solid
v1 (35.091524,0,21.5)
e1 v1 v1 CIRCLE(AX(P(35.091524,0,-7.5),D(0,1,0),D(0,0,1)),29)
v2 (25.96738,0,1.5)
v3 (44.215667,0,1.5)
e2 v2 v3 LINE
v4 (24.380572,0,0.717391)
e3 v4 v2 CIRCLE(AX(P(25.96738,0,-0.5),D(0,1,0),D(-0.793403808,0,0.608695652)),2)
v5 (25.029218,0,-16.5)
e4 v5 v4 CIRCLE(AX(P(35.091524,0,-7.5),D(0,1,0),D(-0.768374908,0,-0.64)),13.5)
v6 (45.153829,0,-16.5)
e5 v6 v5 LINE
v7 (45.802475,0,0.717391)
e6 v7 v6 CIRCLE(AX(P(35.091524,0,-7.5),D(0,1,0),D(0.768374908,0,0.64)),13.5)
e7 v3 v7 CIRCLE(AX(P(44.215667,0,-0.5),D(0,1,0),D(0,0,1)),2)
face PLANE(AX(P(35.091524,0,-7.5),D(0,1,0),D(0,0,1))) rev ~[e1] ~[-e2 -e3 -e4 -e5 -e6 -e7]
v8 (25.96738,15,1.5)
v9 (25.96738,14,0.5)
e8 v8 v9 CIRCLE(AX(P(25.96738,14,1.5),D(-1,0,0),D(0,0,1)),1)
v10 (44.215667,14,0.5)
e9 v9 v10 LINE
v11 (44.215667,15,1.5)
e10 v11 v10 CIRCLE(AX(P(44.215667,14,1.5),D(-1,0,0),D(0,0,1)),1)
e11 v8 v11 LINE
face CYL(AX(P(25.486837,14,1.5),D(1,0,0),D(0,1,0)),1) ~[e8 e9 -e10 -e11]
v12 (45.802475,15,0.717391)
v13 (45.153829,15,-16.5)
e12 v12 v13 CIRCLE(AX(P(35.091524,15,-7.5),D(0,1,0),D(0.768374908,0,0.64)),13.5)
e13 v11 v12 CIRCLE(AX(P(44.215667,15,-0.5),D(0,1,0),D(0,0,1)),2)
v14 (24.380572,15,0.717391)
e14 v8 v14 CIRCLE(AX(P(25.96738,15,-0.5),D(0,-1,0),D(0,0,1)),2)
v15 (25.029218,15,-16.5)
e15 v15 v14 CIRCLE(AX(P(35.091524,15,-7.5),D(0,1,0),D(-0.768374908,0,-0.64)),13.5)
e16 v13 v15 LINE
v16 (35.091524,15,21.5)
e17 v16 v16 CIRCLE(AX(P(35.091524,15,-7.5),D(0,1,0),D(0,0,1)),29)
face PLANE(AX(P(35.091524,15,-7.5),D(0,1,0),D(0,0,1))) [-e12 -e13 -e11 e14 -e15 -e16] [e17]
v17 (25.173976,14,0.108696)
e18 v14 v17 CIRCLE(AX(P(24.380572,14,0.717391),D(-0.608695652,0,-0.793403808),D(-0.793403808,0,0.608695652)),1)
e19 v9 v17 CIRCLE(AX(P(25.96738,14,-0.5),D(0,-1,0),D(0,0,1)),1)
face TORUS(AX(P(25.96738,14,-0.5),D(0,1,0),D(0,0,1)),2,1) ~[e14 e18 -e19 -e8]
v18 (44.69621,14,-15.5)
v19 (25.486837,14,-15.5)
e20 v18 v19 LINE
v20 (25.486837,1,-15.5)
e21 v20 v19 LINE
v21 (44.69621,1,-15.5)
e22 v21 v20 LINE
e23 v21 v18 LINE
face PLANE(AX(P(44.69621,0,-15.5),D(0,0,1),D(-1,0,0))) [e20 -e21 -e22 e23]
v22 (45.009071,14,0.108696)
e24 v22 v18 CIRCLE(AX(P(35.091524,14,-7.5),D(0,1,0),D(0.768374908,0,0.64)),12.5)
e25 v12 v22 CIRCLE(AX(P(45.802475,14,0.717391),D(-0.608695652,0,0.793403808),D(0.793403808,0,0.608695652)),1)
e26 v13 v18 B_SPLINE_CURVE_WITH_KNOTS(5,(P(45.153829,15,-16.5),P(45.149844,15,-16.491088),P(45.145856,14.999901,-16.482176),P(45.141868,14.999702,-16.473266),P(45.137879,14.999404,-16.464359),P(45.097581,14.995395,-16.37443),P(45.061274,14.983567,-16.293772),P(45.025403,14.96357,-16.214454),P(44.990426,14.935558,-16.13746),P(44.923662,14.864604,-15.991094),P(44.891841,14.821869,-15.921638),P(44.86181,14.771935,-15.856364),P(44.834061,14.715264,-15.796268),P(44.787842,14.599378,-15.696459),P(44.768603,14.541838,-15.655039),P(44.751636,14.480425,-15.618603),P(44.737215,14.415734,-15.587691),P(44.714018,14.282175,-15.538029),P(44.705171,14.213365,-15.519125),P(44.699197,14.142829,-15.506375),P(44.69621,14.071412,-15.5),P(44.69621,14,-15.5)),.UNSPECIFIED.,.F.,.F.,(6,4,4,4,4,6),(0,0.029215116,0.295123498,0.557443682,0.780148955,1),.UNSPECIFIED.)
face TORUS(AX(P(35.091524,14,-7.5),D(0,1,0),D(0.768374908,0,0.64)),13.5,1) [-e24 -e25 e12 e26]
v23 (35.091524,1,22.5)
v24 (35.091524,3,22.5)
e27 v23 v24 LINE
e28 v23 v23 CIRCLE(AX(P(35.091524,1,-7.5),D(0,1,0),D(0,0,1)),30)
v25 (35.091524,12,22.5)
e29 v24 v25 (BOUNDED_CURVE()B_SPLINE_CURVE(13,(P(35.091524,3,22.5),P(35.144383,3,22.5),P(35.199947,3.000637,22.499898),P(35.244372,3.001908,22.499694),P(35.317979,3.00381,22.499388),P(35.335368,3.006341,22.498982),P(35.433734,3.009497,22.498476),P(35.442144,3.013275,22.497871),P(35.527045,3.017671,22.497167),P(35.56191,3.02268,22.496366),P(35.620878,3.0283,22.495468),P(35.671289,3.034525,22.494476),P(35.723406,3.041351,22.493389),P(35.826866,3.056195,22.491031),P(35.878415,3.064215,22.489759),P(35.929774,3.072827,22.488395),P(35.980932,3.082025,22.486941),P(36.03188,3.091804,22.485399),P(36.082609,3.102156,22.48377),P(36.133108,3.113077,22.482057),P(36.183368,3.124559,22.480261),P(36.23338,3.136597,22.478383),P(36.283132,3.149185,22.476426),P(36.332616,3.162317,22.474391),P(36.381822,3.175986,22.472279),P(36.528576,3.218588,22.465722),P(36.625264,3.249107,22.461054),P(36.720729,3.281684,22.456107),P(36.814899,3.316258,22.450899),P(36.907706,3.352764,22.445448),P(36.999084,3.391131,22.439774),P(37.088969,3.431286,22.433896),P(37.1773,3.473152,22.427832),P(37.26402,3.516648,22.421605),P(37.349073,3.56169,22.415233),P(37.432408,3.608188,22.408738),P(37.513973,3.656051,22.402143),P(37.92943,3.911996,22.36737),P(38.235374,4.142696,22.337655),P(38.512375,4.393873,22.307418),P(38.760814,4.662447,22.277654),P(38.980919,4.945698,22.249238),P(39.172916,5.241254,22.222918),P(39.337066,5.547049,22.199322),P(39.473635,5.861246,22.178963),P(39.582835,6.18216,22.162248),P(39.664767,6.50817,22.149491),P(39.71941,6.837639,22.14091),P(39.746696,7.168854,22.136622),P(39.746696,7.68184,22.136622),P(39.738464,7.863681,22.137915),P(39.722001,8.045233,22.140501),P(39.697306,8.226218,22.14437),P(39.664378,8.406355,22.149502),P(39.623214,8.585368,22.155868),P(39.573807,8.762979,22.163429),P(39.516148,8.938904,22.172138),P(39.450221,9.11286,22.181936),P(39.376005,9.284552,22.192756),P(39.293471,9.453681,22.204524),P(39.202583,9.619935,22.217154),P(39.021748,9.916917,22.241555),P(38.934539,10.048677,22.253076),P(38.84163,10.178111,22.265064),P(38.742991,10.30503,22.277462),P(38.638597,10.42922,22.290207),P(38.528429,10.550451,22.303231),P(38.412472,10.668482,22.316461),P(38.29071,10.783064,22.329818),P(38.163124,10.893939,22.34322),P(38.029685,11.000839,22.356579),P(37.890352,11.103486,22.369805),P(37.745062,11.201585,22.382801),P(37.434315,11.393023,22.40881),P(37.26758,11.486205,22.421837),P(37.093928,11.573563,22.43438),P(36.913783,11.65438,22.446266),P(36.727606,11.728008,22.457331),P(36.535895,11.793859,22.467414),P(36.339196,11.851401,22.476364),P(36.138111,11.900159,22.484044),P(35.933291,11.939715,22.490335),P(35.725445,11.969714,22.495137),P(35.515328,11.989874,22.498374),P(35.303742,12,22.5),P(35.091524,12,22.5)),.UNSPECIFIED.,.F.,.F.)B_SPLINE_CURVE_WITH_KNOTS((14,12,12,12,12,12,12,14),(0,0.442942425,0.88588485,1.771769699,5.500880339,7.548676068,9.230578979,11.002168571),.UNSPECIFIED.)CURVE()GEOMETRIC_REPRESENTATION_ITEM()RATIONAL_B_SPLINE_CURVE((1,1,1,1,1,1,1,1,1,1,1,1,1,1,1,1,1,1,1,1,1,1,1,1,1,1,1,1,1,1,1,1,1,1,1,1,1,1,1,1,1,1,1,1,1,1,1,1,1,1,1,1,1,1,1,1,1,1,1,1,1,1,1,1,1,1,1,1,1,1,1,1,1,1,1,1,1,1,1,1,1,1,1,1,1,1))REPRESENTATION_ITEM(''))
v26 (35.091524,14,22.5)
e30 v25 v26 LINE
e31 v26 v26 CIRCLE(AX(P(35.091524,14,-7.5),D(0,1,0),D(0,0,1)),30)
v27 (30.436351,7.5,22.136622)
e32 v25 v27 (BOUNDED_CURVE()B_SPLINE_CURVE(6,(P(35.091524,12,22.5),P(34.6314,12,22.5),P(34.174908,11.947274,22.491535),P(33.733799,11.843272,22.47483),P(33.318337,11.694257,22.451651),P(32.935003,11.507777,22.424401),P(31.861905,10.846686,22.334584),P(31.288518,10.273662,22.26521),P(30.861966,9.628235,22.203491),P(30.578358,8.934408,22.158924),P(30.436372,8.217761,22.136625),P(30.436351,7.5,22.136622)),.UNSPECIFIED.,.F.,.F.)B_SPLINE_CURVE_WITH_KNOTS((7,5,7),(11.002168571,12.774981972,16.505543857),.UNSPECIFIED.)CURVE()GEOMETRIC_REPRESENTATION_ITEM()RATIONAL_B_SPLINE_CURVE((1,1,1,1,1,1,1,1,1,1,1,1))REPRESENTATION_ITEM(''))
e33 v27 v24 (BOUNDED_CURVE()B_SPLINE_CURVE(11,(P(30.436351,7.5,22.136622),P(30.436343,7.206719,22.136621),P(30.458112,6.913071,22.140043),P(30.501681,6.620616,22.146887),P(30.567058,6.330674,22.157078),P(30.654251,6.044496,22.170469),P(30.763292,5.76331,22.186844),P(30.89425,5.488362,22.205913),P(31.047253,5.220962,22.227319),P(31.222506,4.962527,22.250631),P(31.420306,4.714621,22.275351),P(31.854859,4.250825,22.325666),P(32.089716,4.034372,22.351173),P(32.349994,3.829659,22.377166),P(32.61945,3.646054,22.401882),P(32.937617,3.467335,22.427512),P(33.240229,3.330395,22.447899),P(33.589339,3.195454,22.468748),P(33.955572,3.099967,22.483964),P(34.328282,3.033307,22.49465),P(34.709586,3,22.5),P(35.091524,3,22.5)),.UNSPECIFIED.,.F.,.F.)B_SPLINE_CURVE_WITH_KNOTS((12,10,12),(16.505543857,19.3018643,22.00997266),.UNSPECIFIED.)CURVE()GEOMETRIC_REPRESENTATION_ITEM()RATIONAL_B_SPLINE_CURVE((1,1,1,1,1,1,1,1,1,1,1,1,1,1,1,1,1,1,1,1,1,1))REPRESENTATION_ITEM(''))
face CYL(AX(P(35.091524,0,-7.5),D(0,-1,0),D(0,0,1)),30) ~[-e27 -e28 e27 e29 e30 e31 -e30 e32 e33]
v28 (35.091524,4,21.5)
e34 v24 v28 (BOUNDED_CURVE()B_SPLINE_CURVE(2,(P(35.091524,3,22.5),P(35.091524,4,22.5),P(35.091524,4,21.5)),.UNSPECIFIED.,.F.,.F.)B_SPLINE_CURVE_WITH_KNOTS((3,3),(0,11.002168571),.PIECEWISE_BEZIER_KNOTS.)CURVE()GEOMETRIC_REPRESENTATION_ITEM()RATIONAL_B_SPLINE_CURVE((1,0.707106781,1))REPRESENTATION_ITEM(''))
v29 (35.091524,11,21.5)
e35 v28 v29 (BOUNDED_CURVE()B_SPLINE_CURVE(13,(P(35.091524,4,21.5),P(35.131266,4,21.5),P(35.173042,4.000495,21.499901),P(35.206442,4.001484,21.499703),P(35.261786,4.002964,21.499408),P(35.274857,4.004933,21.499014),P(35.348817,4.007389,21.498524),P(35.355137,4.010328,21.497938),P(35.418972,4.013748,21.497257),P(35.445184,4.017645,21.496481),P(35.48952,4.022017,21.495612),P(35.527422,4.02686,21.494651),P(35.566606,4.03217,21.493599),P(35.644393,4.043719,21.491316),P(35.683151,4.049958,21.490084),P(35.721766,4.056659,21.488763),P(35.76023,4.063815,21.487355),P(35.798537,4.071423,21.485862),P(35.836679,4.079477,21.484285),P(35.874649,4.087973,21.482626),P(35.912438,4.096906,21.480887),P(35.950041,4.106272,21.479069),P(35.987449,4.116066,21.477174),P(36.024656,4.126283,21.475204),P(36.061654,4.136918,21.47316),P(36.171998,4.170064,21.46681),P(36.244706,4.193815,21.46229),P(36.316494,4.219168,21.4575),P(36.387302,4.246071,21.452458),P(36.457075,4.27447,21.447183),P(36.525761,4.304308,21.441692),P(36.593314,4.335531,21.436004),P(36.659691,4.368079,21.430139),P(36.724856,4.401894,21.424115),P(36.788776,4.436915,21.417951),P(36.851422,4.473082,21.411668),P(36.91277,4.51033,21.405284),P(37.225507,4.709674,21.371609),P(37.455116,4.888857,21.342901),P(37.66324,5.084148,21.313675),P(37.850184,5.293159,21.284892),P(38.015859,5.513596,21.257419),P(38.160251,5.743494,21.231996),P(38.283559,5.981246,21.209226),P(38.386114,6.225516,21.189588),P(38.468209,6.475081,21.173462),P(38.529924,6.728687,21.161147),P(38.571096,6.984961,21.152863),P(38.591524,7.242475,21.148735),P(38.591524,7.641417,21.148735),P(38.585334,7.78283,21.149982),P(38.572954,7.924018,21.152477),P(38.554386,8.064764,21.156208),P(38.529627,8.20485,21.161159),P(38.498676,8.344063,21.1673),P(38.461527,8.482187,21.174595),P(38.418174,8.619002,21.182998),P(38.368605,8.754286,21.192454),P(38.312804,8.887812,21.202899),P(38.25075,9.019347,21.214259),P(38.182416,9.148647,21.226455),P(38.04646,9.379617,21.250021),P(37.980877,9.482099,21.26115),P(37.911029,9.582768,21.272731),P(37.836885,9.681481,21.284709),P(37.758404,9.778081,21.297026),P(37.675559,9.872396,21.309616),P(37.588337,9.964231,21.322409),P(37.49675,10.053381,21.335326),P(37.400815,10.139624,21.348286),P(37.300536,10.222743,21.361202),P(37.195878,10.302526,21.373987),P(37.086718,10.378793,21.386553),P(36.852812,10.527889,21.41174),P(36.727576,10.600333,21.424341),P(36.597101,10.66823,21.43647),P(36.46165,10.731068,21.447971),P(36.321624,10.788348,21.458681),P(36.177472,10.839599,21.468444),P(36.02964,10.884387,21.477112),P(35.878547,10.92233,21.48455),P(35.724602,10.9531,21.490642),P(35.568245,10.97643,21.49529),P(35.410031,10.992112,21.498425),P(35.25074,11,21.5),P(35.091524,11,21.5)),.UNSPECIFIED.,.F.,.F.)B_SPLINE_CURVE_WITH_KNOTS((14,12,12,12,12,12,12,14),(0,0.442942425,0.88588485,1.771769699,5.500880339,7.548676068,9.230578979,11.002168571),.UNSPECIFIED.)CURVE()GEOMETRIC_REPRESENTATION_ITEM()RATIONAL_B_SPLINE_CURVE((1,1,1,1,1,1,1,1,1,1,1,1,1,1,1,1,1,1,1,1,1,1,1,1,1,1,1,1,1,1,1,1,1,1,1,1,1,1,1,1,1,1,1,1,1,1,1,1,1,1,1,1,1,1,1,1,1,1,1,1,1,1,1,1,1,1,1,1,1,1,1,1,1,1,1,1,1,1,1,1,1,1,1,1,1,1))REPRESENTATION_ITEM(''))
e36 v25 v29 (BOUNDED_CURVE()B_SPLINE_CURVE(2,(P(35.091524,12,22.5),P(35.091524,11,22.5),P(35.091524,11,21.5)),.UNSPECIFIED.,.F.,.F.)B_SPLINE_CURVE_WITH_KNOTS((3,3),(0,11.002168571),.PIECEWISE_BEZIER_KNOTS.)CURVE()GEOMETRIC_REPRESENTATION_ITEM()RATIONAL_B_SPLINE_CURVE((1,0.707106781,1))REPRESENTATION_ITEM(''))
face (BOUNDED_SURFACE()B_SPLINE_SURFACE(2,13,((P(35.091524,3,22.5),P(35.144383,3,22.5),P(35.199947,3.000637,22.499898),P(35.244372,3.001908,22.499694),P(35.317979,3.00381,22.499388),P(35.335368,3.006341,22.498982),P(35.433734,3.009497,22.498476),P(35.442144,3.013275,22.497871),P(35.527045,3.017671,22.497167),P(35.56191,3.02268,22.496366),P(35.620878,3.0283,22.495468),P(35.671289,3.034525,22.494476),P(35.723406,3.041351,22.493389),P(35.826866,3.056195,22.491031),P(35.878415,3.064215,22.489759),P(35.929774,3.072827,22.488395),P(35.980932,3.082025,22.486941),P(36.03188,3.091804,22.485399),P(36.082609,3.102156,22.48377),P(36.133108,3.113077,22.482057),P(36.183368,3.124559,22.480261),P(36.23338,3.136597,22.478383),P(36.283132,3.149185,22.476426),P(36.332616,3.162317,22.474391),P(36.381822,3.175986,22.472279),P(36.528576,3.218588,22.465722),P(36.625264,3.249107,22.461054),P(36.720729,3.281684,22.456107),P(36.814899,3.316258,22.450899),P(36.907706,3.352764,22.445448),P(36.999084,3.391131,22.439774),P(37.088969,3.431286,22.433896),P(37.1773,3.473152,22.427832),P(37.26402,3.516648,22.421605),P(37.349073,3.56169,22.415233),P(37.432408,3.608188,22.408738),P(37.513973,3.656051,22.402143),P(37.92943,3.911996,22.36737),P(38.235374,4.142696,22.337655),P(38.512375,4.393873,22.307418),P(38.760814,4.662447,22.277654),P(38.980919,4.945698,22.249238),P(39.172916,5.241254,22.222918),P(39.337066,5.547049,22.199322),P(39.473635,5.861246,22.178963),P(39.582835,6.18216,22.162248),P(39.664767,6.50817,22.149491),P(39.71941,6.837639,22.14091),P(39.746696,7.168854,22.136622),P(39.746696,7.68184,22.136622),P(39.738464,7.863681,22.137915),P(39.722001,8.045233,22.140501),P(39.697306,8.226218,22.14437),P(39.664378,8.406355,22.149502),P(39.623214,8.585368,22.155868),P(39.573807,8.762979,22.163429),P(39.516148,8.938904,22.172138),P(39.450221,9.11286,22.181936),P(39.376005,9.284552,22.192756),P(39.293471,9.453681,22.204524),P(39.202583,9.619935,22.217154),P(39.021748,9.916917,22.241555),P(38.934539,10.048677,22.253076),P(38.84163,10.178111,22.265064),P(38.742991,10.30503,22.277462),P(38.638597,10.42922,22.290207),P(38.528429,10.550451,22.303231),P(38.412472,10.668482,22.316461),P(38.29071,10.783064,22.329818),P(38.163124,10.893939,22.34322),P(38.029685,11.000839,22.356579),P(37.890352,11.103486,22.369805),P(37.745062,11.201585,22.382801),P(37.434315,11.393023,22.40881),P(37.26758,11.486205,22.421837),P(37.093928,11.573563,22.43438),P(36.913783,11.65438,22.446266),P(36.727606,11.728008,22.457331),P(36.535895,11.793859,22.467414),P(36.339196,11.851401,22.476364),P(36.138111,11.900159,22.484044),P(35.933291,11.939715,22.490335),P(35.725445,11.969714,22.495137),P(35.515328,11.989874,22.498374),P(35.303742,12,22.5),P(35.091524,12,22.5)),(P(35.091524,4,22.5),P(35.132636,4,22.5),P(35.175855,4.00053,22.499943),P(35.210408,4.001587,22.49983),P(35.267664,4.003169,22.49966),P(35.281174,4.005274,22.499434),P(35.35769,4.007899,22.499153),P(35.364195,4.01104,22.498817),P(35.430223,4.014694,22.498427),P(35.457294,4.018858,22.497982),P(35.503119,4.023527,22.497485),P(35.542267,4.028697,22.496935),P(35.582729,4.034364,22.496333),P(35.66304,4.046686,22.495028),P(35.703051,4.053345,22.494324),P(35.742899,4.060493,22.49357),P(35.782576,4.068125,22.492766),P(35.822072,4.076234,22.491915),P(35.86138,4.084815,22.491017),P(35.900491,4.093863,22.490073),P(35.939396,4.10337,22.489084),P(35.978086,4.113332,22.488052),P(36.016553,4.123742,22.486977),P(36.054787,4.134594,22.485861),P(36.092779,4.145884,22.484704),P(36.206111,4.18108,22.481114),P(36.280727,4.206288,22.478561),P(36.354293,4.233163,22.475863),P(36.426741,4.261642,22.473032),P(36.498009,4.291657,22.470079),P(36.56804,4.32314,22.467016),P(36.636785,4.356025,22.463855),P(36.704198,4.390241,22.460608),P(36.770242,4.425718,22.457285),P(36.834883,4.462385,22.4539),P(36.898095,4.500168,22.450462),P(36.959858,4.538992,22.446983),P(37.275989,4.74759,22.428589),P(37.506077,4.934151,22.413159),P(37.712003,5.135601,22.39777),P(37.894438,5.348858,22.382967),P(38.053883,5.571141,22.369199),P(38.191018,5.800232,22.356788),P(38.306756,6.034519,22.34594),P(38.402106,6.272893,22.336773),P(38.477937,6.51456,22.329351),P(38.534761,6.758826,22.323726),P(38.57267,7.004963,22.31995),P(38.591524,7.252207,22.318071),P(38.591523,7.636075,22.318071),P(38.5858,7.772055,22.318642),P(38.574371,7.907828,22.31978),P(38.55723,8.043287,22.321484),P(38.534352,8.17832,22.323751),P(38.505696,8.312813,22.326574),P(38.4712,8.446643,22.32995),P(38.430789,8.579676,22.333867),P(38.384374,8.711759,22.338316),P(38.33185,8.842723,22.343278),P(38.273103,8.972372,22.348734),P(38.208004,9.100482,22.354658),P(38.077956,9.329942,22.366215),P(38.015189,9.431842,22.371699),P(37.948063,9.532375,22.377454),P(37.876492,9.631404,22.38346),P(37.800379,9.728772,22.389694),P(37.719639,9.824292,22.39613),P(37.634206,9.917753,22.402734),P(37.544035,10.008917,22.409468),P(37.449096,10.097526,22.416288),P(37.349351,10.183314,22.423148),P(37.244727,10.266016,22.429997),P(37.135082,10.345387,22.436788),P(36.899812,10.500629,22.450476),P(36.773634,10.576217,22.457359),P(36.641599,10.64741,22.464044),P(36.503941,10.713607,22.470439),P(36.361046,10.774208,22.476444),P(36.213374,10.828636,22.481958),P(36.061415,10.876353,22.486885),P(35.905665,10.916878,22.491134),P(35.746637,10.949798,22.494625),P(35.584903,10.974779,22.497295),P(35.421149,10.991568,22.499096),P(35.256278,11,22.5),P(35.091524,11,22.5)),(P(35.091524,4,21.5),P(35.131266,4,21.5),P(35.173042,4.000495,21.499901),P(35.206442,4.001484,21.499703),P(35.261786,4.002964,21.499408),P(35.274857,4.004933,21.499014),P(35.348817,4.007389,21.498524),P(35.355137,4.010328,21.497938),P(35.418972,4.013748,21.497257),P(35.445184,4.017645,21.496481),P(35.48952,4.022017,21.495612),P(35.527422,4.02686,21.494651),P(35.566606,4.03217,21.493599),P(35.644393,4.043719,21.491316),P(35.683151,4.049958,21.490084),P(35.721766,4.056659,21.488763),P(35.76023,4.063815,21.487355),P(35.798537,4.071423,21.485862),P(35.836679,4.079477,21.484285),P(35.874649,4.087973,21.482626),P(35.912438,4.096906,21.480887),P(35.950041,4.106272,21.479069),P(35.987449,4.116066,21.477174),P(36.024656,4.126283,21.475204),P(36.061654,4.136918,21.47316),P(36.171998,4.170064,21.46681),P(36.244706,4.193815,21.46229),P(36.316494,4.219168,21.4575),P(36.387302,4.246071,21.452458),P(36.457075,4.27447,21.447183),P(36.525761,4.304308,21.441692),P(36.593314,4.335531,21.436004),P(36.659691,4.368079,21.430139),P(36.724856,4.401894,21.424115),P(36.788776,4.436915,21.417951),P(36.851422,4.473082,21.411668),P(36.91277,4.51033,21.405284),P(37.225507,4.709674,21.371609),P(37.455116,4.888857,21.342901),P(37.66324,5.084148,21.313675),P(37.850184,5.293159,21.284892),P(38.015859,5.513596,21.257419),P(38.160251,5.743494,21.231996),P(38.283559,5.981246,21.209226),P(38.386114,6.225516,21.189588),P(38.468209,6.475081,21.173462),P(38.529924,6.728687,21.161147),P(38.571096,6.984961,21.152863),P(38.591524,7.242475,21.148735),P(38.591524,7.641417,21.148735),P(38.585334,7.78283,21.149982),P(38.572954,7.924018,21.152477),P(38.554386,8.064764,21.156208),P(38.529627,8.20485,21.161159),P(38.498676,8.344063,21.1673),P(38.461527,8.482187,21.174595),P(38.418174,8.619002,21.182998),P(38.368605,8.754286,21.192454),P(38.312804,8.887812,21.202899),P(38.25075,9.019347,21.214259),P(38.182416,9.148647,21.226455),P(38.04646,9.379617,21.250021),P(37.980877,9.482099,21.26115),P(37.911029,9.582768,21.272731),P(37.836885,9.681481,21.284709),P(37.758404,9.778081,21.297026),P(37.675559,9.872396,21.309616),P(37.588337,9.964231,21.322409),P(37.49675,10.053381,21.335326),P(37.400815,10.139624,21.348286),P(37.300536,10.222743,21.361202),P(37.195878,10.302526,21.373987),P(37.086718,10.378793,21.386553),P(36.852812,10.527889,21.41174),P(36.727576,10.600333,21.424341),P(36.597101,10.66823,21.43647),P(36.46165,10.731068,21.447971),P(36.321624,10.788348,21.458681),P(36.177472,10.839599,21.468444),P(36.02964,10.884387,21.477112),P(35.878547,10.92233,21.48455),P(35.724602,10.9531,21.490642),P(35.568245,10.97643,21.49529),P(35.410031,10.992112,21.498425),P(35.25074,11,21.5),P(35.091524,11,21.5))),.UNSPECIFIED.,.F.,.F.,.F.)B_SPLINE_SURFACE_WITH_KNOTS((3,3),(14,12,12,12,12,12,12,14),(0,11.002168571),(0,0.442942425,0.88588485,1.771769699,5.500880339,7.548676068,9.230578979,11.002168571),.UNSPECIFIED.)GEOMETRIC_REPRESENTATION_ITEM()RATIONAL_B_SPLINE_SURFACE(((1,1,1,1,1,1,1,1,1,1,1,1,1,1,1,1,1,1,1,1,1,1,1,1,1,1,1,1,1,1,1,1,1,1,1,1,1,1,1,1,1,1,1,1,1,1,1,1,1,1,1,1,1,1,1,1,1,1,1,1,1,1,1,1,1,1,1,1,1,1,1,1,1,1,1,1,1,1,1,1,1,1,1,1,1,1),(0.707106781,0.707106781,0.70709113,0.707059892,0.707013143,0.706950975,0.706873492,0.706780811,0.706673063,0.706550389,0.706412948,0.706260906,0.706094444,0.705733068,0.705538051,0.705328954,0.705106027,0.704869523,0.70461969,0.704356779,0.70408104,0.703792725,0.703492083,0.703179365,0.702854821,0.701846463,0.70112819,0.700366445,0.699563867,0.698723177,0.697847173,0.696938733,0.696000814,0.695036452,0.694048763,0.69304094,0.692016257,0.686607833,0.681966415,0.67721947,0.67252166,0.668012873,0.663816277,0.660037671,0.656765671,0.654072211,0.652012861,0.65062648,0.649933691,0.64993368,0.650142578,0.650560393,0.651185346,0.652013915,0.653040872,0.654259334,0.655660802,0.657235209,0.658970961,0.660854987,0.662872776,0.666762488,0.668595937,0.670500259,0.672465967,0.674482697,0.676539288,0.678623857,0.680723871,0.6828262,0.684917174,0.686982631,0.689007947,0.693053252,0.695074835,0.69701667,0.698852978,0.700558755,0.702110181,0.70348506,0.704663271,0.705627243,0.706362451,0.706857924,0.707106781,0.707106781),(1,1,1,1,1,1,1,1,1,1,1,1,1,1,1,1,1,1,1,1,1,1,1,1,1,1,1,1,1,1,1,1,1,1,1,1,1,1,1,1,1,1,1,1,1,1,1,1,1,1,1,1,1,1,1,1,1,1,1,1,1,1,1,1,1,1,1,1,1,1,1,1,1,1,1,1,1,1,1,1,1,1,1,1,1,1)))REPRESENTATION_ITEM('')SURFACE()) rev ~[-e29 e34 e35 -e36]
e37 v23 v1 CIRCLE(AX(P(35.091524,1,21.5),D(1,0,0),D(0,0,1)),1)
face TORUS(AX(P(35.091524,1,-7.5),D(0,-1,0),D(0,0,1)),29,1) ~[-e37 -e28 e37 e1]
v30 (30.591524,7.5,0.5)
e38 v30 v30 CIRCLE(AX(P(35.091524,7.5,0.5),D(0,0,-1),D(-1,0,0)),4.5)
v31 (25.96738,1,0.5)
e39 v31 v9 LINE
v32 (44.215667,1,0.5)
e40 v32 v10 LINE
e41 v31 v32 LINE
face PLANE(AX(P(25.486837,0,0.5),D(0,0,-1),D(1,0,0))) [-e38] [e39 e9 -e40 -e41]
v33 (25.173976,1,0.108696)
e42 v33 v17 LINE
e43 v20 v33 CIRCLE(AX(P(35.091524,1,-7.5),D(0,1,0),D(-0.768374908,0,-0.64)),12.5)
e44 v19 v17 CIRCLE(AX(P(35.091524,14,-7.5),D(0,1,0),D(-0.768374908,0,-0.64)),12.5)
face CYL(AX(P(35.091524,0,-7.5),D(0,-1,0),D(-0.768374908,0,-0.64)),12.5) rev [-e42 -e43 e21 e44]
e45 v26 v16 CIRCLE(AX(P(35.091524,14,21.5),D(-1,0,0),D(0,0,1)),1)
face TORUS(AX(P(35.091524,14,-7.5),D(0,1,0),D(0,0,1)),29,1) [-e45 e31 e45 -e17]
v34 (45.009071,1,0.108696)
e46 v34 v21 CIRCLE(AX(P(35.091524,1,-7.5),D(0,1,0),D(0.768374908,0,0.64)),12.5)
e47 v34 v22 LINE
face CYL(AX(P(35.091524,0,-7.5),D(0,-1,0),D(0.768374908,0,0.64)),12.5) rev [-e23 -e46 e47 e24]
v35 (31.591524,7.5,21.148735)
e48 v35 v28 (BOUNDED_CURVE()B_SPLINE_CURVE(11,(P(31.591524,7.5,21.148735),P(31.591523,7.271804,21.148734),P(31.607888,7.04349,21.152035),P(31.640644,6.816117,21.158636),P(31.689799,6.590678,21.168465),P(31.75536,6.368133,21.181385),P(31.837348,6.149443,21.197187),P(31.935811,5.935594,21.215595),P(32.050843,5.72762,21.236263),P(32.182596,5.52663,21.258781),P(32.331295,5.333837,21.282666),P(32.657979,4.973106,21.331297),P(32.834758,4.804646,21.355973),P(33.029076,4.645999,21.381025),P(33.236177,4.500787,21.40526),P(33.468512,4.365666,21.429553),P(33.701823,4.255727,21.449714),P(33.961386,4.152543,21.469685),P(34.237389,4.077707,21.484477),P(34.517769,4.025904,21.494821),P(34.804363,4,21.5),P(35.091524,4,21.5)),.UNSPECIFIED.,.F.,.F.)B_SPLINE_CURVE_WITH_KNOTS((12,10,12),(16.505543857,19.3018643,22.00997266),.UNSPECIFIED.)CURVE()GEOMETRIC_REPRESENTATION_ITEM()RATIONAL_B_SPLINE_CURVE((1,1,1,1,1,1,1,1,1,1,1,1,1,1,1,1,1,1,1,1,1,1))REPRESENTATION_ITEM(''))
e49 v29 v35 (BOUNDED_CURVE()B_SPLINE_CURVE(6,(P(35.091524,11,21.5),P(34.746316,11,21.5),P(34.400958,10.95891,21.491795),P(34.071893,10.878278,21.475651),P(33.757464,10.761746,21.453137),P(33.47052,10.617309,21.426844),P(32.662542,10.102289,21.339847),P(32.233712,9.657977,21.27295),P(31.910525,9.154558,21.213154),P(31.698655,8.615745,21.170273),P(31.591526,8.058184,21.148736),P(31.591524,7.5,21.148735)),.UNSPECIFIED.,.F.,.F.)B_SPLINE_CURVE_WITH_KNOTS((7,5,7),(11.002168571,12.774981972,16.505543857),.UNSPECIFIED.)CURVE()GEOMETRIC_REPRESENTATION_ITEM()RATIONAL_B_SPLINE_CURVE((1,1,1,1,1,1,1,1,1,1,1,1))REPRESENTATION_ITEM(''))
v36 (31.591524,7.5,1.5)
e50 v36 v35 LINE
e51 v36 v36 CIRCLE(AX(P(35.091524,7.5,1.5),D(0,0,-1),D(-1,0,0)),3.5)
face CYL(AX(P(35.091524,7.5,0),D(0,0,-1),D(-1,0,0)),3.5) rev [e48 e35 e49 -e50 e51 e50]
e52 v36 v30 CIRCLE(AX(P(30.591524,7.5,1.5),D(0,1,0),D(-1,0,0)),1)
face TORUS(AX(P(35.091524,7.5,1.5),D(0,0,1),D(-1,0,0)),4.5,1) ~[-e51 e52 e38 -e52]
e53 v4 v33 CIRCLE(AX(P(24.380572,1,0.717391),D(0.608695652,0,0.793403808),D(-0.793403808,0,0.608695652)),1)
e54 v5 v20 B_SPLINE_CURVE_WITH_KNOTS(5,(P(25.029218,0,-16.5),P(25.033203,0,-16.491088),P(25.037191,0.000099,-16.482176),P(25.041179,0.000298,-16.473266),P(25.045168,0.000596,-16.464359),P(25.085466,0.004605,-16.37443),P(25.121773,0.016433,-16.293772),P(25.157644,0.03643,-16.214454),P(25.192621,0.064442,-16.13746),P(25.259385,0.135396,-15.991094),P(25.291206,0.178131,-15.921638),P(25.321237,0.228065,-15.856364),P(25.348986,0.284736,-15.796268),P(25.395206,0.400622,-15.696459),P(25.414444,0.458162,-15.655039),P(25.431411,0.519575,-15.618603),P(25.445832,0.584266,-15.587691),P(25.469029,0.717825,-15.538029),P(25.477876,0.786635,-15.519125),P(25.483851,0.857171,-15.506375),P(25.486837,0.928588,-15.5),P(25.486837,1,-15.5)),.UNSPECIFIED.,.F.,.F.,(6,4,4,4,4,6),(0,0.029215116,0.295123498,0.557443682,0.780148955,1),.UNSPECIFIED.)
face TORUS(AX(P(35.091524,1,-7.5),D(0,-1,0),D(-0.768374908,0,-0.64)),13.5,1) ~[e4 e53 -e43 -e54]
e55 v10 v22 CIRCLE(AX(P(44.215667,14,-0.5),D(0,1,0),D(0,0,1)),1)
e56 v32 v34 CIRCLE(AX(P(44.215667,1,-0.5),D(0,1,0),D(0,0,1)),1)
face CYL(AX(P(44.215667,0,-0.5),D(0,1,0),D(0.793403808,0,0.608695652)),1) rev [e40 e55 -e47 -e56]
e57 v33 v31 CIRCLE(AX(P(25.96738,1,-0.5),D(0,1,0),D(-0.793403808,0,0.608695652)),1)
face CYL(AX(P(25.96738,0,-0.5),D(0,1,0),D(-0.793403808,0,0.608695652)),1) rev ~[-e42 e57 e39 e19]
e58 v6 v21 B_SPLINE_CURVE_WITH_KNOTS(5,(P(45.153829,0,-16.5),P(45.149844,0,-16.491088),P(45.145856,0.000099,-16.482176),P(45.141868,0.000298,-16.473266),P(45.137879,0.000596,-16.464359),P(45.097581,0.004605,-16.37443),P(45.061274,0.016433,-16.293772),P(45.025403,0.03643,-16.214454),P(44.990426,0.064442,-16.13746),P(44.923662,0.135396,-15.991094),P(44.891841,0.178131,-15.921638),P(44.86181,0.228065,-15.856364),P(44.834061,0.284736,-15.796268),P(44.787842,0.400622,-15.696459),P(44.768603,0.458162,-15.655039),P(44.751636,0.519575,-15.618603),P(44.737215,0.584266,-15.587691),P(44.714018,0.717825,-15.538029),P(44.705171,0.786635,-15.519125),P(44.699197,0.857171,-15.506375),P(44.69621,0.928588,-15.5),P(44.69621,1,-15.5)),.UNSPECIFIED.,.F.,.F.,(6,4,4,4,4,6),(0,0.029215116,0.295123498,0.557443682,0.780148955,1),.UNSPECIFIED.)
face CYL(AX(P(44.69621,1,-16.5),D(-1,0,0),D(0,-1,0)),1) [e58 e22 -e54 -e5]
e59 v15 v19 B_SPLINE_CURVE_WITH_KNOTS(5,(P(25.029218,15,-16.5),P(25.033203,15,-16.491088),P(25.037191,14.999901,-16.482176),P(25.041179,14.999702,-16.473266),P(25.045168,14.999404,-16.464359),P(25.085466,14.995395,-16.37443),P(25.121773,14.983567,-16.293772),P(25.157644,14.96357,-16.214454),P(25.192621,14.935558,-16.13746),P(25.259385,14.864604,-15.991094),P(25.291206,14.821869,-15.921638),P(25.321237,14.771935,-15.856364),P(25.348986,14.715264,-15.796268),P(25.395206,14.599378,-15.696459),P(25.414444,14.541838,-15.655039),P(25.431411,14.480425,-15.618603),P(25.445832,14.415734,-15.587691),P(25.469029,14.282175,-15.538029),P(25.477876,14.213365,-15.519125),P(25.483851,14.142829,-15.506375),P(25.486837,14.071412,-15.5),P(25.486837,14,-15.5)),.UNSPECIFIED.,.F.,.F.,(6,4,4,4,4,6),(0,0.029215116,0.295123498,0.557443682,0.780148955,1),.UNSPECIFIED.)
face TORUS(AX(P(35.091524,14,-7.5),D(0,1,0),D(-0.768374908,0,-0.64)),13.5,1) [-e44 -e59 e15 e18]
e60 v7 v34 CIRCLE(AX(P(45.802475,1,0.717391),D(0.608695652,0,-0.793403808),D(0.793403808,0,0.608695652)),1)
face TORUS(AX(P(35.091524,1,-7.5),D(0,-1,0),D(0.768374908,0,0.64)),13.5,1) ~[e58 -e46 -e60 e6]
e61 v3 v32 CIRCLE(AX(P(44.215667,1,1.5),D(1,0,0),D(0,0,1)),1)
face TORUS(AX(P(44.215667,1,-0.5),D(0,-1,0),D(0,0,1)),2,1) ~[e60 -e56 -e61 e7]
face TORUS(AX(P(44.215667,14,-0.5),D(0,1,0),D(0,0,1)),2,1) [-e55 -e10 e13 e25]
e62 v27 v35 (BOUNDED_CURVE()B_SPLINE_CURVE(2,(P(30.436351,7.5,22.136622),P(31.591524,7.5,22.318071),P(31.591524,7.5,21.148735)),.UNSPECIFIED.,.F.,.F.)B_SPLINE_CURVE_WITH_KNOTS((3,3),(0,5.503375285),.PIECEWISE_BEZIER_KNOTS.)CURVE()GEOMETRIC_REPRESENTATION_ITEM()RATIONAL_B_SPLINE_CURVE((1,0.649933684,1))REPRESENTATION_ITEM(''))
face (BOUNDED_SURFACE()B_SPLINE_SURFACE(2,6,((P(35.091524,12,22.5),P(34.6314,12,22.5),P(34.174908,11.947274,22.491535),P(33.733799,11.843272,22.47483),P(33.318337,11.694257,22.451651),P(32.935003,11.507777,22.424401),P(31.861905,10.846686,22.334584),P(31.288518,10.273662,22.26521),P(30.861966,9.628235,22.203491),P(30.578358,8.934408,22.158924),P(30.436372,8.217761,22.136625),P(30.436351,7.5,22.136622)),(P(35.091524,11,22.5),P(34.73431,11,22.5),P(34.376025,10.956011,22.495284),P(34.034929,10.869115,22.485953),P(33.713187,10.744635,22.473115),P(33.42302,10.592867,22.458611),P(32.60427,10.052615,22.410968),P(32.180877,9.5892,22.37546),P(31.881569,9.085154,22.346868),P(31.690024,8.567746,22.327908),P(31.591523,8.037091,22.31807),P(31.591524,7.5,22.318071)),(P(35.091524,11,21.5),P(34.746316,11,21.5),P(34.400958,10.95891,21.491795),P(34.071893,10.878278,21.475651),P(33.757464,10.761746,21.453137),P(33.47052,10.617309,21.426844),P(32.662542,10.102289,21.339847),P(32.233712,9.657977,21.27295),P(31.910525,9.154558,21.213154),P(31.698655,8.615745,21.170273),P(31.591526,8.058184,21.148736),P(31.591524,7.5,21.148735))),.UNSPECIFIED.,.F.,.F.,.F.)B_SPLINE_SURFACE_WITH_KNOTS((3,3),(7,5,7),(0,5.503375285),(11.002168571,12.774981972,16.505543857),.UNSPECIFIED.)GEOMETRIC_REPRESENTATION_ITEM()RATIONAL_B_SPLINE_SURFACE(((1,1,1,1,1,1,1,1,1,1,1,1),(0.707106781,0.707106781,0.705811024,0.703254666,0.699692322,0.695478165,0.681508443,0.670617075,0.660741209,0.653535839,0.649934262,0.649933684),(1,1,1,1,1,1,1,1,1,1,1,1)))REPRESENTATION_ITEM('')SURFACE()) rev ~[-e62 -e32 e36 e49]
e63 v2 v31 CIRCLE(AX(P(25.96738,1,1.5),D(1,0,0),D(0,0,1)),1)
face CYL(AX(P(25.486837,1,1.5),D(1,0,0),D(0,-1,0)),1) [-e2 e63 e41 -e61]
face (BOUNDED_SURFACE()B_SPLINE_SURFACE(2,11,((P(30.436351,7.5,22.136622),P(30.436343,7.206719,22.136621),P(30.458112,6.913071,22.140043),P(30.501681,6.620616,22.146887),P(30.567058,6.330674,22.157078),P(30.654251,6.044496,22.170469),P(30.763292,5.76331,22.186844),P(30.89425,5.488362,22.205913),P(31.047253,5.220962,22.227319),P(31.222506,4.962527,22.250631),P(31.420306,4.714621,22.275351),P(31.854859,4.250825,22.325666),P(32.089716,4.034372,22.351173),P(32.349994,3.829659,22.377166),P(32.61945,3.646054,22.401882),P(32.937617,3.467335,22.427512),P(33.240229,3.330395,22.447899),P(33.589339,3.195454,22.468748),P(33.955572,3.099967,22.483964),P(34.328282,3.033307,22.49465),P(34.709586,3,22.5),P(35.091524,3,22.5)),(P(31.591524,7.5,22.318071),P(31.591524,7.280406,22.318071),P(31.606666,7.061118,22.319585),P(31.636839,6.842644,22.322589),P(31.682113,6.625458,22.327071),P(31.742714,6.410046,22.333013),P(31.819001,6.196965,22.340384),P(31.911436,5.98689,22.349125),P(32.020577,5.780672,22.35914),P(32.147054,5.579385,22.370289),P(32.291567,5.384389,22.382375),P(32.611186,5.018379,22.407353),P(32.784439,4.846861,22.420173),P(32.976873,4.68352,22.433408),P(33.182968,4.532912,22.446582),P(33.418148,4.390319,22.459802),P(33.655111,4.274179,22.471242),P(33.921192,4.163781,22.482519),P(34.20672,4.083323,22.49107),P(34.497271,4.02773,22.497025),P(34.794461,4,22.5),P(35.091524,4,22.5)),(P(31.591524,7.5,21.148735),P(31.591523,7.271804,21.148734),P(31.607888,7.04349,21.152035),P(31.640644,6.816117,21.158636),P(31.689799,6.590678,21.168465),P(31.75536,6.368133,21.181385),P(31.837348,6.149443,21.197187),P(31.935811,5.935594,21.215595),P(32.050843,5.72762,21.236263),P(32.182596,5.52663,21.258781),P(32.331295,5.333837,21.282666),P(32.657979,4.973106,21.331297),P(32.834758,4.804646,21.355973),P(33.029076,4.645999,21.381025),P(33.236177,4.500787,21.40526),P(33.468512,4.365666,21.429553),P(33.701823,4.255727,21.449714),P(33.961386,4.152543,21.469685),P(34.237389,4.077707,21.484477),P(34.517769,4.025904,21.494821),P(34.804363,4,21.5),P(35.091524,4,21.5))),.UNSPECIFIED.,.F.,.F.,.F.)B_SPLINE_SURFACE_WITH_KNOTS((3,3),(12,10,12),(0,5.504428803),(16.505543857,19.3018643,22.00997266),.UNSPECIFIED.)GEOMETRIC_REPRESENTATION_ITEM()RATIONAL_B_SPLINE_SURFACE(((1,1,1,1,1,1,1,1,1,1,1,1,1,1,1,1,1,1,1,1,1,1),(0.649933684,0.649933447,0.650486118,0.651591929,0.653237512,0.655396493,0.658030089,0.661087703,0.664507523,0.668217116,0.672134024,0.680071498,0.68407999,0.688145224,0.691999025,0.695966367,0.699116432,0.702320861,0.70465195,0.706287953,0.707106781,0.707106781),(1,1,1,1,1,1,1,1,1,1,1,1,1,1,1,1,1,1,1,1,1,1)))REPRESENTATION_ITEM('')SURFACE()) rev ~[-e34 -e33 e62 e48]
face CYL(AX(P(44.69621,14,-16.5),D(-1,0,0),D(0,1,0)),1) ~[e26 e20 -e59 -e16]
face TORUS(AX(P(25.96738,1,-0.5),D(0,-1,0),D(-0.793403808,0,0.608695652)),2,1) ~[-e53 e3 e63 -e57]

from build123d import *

# Parameters (mm, degrees)
SKETCH2_R           = 30
BOSS_EXTRUDE1_DEPTH = 15
SKETCH4_R           = 3.5
CUT_EXTRUDE1_DEPTH  = 25
FILLET1_R           = 1


with BuildPart() as part:
    # Sketch2 → Boss-Extrude1 (new body)
    with BuildSketch(Plane(origin=(0, 0, 0), x_dir=(1, 0, 0), z_dir=(0, 1, 0))):
        with Locations(Location((35.09152354, 7.5, 0), (0, 0, 270))):
            Circle(SKETCH2_R)
        with BuildLine():
            Line((35.09152354, -0.5), (44.696209896, -0.5))
            ThreePointArc((44.696209896, -0.5), (47.59152354, 7.5), (44.696209896, 15.5))
            Line((44.696209896, 15.5), (35.09152354, 15.5))
            Line((35.09152354, 15.5), (25.486837184, 15.5))
            ThreePointArc((25.486837184, 15.5), (22.59152354, 7.5), (25.486837184, -0.5))
            Line((25.486837184, -0.5), (35.09152354, -0.5))
        make_face(mode=Mode.SUBTRACT)
    extrude(amount=BOSS_EXTRUDE1_DEPTH)

    # Sketch4 → Cut-Extrude1 (cut)
    with BuildSketch(Plane.XY):
        with Locations(Location((35.09152354, 7.5, 0), (0, 0, 180))):
            Circle(SKETCH4_R)
    extrude(amount=CUT_EXTRUDE1_DEPTH, mode=Mode.SUBTRACT)

    # Fillet1
    fillet1_edges = [part.edges().sort_by_distance(p)[0] for p in [
        (35.09152354, 15, 0.5),
        (47.59152354, 15, -7.5),
        (22.59152354, 15, -7.5),
        (35.09152354, 0, -15.5),
        (35.09152354, 0, -37.5),
        (38.59152354, 7.5, 0.5),
        (38.59152354, 7.5, 22.295133831),
        (35.09152354, 15, -37.5),
        (35.09152354, 0, 0.5),
        (25.486837184, 7.5, 0.5),
        (47.59152354, 0, -7.5),
        (44.696209896, 7.5, 0.5),
        (35.09152354, 15, -15.5),
        (22.59152354, 0, -7.5),
    ]]
    fillet(fillet1_edges, radius=FILLET1_R)


solid = part.part
